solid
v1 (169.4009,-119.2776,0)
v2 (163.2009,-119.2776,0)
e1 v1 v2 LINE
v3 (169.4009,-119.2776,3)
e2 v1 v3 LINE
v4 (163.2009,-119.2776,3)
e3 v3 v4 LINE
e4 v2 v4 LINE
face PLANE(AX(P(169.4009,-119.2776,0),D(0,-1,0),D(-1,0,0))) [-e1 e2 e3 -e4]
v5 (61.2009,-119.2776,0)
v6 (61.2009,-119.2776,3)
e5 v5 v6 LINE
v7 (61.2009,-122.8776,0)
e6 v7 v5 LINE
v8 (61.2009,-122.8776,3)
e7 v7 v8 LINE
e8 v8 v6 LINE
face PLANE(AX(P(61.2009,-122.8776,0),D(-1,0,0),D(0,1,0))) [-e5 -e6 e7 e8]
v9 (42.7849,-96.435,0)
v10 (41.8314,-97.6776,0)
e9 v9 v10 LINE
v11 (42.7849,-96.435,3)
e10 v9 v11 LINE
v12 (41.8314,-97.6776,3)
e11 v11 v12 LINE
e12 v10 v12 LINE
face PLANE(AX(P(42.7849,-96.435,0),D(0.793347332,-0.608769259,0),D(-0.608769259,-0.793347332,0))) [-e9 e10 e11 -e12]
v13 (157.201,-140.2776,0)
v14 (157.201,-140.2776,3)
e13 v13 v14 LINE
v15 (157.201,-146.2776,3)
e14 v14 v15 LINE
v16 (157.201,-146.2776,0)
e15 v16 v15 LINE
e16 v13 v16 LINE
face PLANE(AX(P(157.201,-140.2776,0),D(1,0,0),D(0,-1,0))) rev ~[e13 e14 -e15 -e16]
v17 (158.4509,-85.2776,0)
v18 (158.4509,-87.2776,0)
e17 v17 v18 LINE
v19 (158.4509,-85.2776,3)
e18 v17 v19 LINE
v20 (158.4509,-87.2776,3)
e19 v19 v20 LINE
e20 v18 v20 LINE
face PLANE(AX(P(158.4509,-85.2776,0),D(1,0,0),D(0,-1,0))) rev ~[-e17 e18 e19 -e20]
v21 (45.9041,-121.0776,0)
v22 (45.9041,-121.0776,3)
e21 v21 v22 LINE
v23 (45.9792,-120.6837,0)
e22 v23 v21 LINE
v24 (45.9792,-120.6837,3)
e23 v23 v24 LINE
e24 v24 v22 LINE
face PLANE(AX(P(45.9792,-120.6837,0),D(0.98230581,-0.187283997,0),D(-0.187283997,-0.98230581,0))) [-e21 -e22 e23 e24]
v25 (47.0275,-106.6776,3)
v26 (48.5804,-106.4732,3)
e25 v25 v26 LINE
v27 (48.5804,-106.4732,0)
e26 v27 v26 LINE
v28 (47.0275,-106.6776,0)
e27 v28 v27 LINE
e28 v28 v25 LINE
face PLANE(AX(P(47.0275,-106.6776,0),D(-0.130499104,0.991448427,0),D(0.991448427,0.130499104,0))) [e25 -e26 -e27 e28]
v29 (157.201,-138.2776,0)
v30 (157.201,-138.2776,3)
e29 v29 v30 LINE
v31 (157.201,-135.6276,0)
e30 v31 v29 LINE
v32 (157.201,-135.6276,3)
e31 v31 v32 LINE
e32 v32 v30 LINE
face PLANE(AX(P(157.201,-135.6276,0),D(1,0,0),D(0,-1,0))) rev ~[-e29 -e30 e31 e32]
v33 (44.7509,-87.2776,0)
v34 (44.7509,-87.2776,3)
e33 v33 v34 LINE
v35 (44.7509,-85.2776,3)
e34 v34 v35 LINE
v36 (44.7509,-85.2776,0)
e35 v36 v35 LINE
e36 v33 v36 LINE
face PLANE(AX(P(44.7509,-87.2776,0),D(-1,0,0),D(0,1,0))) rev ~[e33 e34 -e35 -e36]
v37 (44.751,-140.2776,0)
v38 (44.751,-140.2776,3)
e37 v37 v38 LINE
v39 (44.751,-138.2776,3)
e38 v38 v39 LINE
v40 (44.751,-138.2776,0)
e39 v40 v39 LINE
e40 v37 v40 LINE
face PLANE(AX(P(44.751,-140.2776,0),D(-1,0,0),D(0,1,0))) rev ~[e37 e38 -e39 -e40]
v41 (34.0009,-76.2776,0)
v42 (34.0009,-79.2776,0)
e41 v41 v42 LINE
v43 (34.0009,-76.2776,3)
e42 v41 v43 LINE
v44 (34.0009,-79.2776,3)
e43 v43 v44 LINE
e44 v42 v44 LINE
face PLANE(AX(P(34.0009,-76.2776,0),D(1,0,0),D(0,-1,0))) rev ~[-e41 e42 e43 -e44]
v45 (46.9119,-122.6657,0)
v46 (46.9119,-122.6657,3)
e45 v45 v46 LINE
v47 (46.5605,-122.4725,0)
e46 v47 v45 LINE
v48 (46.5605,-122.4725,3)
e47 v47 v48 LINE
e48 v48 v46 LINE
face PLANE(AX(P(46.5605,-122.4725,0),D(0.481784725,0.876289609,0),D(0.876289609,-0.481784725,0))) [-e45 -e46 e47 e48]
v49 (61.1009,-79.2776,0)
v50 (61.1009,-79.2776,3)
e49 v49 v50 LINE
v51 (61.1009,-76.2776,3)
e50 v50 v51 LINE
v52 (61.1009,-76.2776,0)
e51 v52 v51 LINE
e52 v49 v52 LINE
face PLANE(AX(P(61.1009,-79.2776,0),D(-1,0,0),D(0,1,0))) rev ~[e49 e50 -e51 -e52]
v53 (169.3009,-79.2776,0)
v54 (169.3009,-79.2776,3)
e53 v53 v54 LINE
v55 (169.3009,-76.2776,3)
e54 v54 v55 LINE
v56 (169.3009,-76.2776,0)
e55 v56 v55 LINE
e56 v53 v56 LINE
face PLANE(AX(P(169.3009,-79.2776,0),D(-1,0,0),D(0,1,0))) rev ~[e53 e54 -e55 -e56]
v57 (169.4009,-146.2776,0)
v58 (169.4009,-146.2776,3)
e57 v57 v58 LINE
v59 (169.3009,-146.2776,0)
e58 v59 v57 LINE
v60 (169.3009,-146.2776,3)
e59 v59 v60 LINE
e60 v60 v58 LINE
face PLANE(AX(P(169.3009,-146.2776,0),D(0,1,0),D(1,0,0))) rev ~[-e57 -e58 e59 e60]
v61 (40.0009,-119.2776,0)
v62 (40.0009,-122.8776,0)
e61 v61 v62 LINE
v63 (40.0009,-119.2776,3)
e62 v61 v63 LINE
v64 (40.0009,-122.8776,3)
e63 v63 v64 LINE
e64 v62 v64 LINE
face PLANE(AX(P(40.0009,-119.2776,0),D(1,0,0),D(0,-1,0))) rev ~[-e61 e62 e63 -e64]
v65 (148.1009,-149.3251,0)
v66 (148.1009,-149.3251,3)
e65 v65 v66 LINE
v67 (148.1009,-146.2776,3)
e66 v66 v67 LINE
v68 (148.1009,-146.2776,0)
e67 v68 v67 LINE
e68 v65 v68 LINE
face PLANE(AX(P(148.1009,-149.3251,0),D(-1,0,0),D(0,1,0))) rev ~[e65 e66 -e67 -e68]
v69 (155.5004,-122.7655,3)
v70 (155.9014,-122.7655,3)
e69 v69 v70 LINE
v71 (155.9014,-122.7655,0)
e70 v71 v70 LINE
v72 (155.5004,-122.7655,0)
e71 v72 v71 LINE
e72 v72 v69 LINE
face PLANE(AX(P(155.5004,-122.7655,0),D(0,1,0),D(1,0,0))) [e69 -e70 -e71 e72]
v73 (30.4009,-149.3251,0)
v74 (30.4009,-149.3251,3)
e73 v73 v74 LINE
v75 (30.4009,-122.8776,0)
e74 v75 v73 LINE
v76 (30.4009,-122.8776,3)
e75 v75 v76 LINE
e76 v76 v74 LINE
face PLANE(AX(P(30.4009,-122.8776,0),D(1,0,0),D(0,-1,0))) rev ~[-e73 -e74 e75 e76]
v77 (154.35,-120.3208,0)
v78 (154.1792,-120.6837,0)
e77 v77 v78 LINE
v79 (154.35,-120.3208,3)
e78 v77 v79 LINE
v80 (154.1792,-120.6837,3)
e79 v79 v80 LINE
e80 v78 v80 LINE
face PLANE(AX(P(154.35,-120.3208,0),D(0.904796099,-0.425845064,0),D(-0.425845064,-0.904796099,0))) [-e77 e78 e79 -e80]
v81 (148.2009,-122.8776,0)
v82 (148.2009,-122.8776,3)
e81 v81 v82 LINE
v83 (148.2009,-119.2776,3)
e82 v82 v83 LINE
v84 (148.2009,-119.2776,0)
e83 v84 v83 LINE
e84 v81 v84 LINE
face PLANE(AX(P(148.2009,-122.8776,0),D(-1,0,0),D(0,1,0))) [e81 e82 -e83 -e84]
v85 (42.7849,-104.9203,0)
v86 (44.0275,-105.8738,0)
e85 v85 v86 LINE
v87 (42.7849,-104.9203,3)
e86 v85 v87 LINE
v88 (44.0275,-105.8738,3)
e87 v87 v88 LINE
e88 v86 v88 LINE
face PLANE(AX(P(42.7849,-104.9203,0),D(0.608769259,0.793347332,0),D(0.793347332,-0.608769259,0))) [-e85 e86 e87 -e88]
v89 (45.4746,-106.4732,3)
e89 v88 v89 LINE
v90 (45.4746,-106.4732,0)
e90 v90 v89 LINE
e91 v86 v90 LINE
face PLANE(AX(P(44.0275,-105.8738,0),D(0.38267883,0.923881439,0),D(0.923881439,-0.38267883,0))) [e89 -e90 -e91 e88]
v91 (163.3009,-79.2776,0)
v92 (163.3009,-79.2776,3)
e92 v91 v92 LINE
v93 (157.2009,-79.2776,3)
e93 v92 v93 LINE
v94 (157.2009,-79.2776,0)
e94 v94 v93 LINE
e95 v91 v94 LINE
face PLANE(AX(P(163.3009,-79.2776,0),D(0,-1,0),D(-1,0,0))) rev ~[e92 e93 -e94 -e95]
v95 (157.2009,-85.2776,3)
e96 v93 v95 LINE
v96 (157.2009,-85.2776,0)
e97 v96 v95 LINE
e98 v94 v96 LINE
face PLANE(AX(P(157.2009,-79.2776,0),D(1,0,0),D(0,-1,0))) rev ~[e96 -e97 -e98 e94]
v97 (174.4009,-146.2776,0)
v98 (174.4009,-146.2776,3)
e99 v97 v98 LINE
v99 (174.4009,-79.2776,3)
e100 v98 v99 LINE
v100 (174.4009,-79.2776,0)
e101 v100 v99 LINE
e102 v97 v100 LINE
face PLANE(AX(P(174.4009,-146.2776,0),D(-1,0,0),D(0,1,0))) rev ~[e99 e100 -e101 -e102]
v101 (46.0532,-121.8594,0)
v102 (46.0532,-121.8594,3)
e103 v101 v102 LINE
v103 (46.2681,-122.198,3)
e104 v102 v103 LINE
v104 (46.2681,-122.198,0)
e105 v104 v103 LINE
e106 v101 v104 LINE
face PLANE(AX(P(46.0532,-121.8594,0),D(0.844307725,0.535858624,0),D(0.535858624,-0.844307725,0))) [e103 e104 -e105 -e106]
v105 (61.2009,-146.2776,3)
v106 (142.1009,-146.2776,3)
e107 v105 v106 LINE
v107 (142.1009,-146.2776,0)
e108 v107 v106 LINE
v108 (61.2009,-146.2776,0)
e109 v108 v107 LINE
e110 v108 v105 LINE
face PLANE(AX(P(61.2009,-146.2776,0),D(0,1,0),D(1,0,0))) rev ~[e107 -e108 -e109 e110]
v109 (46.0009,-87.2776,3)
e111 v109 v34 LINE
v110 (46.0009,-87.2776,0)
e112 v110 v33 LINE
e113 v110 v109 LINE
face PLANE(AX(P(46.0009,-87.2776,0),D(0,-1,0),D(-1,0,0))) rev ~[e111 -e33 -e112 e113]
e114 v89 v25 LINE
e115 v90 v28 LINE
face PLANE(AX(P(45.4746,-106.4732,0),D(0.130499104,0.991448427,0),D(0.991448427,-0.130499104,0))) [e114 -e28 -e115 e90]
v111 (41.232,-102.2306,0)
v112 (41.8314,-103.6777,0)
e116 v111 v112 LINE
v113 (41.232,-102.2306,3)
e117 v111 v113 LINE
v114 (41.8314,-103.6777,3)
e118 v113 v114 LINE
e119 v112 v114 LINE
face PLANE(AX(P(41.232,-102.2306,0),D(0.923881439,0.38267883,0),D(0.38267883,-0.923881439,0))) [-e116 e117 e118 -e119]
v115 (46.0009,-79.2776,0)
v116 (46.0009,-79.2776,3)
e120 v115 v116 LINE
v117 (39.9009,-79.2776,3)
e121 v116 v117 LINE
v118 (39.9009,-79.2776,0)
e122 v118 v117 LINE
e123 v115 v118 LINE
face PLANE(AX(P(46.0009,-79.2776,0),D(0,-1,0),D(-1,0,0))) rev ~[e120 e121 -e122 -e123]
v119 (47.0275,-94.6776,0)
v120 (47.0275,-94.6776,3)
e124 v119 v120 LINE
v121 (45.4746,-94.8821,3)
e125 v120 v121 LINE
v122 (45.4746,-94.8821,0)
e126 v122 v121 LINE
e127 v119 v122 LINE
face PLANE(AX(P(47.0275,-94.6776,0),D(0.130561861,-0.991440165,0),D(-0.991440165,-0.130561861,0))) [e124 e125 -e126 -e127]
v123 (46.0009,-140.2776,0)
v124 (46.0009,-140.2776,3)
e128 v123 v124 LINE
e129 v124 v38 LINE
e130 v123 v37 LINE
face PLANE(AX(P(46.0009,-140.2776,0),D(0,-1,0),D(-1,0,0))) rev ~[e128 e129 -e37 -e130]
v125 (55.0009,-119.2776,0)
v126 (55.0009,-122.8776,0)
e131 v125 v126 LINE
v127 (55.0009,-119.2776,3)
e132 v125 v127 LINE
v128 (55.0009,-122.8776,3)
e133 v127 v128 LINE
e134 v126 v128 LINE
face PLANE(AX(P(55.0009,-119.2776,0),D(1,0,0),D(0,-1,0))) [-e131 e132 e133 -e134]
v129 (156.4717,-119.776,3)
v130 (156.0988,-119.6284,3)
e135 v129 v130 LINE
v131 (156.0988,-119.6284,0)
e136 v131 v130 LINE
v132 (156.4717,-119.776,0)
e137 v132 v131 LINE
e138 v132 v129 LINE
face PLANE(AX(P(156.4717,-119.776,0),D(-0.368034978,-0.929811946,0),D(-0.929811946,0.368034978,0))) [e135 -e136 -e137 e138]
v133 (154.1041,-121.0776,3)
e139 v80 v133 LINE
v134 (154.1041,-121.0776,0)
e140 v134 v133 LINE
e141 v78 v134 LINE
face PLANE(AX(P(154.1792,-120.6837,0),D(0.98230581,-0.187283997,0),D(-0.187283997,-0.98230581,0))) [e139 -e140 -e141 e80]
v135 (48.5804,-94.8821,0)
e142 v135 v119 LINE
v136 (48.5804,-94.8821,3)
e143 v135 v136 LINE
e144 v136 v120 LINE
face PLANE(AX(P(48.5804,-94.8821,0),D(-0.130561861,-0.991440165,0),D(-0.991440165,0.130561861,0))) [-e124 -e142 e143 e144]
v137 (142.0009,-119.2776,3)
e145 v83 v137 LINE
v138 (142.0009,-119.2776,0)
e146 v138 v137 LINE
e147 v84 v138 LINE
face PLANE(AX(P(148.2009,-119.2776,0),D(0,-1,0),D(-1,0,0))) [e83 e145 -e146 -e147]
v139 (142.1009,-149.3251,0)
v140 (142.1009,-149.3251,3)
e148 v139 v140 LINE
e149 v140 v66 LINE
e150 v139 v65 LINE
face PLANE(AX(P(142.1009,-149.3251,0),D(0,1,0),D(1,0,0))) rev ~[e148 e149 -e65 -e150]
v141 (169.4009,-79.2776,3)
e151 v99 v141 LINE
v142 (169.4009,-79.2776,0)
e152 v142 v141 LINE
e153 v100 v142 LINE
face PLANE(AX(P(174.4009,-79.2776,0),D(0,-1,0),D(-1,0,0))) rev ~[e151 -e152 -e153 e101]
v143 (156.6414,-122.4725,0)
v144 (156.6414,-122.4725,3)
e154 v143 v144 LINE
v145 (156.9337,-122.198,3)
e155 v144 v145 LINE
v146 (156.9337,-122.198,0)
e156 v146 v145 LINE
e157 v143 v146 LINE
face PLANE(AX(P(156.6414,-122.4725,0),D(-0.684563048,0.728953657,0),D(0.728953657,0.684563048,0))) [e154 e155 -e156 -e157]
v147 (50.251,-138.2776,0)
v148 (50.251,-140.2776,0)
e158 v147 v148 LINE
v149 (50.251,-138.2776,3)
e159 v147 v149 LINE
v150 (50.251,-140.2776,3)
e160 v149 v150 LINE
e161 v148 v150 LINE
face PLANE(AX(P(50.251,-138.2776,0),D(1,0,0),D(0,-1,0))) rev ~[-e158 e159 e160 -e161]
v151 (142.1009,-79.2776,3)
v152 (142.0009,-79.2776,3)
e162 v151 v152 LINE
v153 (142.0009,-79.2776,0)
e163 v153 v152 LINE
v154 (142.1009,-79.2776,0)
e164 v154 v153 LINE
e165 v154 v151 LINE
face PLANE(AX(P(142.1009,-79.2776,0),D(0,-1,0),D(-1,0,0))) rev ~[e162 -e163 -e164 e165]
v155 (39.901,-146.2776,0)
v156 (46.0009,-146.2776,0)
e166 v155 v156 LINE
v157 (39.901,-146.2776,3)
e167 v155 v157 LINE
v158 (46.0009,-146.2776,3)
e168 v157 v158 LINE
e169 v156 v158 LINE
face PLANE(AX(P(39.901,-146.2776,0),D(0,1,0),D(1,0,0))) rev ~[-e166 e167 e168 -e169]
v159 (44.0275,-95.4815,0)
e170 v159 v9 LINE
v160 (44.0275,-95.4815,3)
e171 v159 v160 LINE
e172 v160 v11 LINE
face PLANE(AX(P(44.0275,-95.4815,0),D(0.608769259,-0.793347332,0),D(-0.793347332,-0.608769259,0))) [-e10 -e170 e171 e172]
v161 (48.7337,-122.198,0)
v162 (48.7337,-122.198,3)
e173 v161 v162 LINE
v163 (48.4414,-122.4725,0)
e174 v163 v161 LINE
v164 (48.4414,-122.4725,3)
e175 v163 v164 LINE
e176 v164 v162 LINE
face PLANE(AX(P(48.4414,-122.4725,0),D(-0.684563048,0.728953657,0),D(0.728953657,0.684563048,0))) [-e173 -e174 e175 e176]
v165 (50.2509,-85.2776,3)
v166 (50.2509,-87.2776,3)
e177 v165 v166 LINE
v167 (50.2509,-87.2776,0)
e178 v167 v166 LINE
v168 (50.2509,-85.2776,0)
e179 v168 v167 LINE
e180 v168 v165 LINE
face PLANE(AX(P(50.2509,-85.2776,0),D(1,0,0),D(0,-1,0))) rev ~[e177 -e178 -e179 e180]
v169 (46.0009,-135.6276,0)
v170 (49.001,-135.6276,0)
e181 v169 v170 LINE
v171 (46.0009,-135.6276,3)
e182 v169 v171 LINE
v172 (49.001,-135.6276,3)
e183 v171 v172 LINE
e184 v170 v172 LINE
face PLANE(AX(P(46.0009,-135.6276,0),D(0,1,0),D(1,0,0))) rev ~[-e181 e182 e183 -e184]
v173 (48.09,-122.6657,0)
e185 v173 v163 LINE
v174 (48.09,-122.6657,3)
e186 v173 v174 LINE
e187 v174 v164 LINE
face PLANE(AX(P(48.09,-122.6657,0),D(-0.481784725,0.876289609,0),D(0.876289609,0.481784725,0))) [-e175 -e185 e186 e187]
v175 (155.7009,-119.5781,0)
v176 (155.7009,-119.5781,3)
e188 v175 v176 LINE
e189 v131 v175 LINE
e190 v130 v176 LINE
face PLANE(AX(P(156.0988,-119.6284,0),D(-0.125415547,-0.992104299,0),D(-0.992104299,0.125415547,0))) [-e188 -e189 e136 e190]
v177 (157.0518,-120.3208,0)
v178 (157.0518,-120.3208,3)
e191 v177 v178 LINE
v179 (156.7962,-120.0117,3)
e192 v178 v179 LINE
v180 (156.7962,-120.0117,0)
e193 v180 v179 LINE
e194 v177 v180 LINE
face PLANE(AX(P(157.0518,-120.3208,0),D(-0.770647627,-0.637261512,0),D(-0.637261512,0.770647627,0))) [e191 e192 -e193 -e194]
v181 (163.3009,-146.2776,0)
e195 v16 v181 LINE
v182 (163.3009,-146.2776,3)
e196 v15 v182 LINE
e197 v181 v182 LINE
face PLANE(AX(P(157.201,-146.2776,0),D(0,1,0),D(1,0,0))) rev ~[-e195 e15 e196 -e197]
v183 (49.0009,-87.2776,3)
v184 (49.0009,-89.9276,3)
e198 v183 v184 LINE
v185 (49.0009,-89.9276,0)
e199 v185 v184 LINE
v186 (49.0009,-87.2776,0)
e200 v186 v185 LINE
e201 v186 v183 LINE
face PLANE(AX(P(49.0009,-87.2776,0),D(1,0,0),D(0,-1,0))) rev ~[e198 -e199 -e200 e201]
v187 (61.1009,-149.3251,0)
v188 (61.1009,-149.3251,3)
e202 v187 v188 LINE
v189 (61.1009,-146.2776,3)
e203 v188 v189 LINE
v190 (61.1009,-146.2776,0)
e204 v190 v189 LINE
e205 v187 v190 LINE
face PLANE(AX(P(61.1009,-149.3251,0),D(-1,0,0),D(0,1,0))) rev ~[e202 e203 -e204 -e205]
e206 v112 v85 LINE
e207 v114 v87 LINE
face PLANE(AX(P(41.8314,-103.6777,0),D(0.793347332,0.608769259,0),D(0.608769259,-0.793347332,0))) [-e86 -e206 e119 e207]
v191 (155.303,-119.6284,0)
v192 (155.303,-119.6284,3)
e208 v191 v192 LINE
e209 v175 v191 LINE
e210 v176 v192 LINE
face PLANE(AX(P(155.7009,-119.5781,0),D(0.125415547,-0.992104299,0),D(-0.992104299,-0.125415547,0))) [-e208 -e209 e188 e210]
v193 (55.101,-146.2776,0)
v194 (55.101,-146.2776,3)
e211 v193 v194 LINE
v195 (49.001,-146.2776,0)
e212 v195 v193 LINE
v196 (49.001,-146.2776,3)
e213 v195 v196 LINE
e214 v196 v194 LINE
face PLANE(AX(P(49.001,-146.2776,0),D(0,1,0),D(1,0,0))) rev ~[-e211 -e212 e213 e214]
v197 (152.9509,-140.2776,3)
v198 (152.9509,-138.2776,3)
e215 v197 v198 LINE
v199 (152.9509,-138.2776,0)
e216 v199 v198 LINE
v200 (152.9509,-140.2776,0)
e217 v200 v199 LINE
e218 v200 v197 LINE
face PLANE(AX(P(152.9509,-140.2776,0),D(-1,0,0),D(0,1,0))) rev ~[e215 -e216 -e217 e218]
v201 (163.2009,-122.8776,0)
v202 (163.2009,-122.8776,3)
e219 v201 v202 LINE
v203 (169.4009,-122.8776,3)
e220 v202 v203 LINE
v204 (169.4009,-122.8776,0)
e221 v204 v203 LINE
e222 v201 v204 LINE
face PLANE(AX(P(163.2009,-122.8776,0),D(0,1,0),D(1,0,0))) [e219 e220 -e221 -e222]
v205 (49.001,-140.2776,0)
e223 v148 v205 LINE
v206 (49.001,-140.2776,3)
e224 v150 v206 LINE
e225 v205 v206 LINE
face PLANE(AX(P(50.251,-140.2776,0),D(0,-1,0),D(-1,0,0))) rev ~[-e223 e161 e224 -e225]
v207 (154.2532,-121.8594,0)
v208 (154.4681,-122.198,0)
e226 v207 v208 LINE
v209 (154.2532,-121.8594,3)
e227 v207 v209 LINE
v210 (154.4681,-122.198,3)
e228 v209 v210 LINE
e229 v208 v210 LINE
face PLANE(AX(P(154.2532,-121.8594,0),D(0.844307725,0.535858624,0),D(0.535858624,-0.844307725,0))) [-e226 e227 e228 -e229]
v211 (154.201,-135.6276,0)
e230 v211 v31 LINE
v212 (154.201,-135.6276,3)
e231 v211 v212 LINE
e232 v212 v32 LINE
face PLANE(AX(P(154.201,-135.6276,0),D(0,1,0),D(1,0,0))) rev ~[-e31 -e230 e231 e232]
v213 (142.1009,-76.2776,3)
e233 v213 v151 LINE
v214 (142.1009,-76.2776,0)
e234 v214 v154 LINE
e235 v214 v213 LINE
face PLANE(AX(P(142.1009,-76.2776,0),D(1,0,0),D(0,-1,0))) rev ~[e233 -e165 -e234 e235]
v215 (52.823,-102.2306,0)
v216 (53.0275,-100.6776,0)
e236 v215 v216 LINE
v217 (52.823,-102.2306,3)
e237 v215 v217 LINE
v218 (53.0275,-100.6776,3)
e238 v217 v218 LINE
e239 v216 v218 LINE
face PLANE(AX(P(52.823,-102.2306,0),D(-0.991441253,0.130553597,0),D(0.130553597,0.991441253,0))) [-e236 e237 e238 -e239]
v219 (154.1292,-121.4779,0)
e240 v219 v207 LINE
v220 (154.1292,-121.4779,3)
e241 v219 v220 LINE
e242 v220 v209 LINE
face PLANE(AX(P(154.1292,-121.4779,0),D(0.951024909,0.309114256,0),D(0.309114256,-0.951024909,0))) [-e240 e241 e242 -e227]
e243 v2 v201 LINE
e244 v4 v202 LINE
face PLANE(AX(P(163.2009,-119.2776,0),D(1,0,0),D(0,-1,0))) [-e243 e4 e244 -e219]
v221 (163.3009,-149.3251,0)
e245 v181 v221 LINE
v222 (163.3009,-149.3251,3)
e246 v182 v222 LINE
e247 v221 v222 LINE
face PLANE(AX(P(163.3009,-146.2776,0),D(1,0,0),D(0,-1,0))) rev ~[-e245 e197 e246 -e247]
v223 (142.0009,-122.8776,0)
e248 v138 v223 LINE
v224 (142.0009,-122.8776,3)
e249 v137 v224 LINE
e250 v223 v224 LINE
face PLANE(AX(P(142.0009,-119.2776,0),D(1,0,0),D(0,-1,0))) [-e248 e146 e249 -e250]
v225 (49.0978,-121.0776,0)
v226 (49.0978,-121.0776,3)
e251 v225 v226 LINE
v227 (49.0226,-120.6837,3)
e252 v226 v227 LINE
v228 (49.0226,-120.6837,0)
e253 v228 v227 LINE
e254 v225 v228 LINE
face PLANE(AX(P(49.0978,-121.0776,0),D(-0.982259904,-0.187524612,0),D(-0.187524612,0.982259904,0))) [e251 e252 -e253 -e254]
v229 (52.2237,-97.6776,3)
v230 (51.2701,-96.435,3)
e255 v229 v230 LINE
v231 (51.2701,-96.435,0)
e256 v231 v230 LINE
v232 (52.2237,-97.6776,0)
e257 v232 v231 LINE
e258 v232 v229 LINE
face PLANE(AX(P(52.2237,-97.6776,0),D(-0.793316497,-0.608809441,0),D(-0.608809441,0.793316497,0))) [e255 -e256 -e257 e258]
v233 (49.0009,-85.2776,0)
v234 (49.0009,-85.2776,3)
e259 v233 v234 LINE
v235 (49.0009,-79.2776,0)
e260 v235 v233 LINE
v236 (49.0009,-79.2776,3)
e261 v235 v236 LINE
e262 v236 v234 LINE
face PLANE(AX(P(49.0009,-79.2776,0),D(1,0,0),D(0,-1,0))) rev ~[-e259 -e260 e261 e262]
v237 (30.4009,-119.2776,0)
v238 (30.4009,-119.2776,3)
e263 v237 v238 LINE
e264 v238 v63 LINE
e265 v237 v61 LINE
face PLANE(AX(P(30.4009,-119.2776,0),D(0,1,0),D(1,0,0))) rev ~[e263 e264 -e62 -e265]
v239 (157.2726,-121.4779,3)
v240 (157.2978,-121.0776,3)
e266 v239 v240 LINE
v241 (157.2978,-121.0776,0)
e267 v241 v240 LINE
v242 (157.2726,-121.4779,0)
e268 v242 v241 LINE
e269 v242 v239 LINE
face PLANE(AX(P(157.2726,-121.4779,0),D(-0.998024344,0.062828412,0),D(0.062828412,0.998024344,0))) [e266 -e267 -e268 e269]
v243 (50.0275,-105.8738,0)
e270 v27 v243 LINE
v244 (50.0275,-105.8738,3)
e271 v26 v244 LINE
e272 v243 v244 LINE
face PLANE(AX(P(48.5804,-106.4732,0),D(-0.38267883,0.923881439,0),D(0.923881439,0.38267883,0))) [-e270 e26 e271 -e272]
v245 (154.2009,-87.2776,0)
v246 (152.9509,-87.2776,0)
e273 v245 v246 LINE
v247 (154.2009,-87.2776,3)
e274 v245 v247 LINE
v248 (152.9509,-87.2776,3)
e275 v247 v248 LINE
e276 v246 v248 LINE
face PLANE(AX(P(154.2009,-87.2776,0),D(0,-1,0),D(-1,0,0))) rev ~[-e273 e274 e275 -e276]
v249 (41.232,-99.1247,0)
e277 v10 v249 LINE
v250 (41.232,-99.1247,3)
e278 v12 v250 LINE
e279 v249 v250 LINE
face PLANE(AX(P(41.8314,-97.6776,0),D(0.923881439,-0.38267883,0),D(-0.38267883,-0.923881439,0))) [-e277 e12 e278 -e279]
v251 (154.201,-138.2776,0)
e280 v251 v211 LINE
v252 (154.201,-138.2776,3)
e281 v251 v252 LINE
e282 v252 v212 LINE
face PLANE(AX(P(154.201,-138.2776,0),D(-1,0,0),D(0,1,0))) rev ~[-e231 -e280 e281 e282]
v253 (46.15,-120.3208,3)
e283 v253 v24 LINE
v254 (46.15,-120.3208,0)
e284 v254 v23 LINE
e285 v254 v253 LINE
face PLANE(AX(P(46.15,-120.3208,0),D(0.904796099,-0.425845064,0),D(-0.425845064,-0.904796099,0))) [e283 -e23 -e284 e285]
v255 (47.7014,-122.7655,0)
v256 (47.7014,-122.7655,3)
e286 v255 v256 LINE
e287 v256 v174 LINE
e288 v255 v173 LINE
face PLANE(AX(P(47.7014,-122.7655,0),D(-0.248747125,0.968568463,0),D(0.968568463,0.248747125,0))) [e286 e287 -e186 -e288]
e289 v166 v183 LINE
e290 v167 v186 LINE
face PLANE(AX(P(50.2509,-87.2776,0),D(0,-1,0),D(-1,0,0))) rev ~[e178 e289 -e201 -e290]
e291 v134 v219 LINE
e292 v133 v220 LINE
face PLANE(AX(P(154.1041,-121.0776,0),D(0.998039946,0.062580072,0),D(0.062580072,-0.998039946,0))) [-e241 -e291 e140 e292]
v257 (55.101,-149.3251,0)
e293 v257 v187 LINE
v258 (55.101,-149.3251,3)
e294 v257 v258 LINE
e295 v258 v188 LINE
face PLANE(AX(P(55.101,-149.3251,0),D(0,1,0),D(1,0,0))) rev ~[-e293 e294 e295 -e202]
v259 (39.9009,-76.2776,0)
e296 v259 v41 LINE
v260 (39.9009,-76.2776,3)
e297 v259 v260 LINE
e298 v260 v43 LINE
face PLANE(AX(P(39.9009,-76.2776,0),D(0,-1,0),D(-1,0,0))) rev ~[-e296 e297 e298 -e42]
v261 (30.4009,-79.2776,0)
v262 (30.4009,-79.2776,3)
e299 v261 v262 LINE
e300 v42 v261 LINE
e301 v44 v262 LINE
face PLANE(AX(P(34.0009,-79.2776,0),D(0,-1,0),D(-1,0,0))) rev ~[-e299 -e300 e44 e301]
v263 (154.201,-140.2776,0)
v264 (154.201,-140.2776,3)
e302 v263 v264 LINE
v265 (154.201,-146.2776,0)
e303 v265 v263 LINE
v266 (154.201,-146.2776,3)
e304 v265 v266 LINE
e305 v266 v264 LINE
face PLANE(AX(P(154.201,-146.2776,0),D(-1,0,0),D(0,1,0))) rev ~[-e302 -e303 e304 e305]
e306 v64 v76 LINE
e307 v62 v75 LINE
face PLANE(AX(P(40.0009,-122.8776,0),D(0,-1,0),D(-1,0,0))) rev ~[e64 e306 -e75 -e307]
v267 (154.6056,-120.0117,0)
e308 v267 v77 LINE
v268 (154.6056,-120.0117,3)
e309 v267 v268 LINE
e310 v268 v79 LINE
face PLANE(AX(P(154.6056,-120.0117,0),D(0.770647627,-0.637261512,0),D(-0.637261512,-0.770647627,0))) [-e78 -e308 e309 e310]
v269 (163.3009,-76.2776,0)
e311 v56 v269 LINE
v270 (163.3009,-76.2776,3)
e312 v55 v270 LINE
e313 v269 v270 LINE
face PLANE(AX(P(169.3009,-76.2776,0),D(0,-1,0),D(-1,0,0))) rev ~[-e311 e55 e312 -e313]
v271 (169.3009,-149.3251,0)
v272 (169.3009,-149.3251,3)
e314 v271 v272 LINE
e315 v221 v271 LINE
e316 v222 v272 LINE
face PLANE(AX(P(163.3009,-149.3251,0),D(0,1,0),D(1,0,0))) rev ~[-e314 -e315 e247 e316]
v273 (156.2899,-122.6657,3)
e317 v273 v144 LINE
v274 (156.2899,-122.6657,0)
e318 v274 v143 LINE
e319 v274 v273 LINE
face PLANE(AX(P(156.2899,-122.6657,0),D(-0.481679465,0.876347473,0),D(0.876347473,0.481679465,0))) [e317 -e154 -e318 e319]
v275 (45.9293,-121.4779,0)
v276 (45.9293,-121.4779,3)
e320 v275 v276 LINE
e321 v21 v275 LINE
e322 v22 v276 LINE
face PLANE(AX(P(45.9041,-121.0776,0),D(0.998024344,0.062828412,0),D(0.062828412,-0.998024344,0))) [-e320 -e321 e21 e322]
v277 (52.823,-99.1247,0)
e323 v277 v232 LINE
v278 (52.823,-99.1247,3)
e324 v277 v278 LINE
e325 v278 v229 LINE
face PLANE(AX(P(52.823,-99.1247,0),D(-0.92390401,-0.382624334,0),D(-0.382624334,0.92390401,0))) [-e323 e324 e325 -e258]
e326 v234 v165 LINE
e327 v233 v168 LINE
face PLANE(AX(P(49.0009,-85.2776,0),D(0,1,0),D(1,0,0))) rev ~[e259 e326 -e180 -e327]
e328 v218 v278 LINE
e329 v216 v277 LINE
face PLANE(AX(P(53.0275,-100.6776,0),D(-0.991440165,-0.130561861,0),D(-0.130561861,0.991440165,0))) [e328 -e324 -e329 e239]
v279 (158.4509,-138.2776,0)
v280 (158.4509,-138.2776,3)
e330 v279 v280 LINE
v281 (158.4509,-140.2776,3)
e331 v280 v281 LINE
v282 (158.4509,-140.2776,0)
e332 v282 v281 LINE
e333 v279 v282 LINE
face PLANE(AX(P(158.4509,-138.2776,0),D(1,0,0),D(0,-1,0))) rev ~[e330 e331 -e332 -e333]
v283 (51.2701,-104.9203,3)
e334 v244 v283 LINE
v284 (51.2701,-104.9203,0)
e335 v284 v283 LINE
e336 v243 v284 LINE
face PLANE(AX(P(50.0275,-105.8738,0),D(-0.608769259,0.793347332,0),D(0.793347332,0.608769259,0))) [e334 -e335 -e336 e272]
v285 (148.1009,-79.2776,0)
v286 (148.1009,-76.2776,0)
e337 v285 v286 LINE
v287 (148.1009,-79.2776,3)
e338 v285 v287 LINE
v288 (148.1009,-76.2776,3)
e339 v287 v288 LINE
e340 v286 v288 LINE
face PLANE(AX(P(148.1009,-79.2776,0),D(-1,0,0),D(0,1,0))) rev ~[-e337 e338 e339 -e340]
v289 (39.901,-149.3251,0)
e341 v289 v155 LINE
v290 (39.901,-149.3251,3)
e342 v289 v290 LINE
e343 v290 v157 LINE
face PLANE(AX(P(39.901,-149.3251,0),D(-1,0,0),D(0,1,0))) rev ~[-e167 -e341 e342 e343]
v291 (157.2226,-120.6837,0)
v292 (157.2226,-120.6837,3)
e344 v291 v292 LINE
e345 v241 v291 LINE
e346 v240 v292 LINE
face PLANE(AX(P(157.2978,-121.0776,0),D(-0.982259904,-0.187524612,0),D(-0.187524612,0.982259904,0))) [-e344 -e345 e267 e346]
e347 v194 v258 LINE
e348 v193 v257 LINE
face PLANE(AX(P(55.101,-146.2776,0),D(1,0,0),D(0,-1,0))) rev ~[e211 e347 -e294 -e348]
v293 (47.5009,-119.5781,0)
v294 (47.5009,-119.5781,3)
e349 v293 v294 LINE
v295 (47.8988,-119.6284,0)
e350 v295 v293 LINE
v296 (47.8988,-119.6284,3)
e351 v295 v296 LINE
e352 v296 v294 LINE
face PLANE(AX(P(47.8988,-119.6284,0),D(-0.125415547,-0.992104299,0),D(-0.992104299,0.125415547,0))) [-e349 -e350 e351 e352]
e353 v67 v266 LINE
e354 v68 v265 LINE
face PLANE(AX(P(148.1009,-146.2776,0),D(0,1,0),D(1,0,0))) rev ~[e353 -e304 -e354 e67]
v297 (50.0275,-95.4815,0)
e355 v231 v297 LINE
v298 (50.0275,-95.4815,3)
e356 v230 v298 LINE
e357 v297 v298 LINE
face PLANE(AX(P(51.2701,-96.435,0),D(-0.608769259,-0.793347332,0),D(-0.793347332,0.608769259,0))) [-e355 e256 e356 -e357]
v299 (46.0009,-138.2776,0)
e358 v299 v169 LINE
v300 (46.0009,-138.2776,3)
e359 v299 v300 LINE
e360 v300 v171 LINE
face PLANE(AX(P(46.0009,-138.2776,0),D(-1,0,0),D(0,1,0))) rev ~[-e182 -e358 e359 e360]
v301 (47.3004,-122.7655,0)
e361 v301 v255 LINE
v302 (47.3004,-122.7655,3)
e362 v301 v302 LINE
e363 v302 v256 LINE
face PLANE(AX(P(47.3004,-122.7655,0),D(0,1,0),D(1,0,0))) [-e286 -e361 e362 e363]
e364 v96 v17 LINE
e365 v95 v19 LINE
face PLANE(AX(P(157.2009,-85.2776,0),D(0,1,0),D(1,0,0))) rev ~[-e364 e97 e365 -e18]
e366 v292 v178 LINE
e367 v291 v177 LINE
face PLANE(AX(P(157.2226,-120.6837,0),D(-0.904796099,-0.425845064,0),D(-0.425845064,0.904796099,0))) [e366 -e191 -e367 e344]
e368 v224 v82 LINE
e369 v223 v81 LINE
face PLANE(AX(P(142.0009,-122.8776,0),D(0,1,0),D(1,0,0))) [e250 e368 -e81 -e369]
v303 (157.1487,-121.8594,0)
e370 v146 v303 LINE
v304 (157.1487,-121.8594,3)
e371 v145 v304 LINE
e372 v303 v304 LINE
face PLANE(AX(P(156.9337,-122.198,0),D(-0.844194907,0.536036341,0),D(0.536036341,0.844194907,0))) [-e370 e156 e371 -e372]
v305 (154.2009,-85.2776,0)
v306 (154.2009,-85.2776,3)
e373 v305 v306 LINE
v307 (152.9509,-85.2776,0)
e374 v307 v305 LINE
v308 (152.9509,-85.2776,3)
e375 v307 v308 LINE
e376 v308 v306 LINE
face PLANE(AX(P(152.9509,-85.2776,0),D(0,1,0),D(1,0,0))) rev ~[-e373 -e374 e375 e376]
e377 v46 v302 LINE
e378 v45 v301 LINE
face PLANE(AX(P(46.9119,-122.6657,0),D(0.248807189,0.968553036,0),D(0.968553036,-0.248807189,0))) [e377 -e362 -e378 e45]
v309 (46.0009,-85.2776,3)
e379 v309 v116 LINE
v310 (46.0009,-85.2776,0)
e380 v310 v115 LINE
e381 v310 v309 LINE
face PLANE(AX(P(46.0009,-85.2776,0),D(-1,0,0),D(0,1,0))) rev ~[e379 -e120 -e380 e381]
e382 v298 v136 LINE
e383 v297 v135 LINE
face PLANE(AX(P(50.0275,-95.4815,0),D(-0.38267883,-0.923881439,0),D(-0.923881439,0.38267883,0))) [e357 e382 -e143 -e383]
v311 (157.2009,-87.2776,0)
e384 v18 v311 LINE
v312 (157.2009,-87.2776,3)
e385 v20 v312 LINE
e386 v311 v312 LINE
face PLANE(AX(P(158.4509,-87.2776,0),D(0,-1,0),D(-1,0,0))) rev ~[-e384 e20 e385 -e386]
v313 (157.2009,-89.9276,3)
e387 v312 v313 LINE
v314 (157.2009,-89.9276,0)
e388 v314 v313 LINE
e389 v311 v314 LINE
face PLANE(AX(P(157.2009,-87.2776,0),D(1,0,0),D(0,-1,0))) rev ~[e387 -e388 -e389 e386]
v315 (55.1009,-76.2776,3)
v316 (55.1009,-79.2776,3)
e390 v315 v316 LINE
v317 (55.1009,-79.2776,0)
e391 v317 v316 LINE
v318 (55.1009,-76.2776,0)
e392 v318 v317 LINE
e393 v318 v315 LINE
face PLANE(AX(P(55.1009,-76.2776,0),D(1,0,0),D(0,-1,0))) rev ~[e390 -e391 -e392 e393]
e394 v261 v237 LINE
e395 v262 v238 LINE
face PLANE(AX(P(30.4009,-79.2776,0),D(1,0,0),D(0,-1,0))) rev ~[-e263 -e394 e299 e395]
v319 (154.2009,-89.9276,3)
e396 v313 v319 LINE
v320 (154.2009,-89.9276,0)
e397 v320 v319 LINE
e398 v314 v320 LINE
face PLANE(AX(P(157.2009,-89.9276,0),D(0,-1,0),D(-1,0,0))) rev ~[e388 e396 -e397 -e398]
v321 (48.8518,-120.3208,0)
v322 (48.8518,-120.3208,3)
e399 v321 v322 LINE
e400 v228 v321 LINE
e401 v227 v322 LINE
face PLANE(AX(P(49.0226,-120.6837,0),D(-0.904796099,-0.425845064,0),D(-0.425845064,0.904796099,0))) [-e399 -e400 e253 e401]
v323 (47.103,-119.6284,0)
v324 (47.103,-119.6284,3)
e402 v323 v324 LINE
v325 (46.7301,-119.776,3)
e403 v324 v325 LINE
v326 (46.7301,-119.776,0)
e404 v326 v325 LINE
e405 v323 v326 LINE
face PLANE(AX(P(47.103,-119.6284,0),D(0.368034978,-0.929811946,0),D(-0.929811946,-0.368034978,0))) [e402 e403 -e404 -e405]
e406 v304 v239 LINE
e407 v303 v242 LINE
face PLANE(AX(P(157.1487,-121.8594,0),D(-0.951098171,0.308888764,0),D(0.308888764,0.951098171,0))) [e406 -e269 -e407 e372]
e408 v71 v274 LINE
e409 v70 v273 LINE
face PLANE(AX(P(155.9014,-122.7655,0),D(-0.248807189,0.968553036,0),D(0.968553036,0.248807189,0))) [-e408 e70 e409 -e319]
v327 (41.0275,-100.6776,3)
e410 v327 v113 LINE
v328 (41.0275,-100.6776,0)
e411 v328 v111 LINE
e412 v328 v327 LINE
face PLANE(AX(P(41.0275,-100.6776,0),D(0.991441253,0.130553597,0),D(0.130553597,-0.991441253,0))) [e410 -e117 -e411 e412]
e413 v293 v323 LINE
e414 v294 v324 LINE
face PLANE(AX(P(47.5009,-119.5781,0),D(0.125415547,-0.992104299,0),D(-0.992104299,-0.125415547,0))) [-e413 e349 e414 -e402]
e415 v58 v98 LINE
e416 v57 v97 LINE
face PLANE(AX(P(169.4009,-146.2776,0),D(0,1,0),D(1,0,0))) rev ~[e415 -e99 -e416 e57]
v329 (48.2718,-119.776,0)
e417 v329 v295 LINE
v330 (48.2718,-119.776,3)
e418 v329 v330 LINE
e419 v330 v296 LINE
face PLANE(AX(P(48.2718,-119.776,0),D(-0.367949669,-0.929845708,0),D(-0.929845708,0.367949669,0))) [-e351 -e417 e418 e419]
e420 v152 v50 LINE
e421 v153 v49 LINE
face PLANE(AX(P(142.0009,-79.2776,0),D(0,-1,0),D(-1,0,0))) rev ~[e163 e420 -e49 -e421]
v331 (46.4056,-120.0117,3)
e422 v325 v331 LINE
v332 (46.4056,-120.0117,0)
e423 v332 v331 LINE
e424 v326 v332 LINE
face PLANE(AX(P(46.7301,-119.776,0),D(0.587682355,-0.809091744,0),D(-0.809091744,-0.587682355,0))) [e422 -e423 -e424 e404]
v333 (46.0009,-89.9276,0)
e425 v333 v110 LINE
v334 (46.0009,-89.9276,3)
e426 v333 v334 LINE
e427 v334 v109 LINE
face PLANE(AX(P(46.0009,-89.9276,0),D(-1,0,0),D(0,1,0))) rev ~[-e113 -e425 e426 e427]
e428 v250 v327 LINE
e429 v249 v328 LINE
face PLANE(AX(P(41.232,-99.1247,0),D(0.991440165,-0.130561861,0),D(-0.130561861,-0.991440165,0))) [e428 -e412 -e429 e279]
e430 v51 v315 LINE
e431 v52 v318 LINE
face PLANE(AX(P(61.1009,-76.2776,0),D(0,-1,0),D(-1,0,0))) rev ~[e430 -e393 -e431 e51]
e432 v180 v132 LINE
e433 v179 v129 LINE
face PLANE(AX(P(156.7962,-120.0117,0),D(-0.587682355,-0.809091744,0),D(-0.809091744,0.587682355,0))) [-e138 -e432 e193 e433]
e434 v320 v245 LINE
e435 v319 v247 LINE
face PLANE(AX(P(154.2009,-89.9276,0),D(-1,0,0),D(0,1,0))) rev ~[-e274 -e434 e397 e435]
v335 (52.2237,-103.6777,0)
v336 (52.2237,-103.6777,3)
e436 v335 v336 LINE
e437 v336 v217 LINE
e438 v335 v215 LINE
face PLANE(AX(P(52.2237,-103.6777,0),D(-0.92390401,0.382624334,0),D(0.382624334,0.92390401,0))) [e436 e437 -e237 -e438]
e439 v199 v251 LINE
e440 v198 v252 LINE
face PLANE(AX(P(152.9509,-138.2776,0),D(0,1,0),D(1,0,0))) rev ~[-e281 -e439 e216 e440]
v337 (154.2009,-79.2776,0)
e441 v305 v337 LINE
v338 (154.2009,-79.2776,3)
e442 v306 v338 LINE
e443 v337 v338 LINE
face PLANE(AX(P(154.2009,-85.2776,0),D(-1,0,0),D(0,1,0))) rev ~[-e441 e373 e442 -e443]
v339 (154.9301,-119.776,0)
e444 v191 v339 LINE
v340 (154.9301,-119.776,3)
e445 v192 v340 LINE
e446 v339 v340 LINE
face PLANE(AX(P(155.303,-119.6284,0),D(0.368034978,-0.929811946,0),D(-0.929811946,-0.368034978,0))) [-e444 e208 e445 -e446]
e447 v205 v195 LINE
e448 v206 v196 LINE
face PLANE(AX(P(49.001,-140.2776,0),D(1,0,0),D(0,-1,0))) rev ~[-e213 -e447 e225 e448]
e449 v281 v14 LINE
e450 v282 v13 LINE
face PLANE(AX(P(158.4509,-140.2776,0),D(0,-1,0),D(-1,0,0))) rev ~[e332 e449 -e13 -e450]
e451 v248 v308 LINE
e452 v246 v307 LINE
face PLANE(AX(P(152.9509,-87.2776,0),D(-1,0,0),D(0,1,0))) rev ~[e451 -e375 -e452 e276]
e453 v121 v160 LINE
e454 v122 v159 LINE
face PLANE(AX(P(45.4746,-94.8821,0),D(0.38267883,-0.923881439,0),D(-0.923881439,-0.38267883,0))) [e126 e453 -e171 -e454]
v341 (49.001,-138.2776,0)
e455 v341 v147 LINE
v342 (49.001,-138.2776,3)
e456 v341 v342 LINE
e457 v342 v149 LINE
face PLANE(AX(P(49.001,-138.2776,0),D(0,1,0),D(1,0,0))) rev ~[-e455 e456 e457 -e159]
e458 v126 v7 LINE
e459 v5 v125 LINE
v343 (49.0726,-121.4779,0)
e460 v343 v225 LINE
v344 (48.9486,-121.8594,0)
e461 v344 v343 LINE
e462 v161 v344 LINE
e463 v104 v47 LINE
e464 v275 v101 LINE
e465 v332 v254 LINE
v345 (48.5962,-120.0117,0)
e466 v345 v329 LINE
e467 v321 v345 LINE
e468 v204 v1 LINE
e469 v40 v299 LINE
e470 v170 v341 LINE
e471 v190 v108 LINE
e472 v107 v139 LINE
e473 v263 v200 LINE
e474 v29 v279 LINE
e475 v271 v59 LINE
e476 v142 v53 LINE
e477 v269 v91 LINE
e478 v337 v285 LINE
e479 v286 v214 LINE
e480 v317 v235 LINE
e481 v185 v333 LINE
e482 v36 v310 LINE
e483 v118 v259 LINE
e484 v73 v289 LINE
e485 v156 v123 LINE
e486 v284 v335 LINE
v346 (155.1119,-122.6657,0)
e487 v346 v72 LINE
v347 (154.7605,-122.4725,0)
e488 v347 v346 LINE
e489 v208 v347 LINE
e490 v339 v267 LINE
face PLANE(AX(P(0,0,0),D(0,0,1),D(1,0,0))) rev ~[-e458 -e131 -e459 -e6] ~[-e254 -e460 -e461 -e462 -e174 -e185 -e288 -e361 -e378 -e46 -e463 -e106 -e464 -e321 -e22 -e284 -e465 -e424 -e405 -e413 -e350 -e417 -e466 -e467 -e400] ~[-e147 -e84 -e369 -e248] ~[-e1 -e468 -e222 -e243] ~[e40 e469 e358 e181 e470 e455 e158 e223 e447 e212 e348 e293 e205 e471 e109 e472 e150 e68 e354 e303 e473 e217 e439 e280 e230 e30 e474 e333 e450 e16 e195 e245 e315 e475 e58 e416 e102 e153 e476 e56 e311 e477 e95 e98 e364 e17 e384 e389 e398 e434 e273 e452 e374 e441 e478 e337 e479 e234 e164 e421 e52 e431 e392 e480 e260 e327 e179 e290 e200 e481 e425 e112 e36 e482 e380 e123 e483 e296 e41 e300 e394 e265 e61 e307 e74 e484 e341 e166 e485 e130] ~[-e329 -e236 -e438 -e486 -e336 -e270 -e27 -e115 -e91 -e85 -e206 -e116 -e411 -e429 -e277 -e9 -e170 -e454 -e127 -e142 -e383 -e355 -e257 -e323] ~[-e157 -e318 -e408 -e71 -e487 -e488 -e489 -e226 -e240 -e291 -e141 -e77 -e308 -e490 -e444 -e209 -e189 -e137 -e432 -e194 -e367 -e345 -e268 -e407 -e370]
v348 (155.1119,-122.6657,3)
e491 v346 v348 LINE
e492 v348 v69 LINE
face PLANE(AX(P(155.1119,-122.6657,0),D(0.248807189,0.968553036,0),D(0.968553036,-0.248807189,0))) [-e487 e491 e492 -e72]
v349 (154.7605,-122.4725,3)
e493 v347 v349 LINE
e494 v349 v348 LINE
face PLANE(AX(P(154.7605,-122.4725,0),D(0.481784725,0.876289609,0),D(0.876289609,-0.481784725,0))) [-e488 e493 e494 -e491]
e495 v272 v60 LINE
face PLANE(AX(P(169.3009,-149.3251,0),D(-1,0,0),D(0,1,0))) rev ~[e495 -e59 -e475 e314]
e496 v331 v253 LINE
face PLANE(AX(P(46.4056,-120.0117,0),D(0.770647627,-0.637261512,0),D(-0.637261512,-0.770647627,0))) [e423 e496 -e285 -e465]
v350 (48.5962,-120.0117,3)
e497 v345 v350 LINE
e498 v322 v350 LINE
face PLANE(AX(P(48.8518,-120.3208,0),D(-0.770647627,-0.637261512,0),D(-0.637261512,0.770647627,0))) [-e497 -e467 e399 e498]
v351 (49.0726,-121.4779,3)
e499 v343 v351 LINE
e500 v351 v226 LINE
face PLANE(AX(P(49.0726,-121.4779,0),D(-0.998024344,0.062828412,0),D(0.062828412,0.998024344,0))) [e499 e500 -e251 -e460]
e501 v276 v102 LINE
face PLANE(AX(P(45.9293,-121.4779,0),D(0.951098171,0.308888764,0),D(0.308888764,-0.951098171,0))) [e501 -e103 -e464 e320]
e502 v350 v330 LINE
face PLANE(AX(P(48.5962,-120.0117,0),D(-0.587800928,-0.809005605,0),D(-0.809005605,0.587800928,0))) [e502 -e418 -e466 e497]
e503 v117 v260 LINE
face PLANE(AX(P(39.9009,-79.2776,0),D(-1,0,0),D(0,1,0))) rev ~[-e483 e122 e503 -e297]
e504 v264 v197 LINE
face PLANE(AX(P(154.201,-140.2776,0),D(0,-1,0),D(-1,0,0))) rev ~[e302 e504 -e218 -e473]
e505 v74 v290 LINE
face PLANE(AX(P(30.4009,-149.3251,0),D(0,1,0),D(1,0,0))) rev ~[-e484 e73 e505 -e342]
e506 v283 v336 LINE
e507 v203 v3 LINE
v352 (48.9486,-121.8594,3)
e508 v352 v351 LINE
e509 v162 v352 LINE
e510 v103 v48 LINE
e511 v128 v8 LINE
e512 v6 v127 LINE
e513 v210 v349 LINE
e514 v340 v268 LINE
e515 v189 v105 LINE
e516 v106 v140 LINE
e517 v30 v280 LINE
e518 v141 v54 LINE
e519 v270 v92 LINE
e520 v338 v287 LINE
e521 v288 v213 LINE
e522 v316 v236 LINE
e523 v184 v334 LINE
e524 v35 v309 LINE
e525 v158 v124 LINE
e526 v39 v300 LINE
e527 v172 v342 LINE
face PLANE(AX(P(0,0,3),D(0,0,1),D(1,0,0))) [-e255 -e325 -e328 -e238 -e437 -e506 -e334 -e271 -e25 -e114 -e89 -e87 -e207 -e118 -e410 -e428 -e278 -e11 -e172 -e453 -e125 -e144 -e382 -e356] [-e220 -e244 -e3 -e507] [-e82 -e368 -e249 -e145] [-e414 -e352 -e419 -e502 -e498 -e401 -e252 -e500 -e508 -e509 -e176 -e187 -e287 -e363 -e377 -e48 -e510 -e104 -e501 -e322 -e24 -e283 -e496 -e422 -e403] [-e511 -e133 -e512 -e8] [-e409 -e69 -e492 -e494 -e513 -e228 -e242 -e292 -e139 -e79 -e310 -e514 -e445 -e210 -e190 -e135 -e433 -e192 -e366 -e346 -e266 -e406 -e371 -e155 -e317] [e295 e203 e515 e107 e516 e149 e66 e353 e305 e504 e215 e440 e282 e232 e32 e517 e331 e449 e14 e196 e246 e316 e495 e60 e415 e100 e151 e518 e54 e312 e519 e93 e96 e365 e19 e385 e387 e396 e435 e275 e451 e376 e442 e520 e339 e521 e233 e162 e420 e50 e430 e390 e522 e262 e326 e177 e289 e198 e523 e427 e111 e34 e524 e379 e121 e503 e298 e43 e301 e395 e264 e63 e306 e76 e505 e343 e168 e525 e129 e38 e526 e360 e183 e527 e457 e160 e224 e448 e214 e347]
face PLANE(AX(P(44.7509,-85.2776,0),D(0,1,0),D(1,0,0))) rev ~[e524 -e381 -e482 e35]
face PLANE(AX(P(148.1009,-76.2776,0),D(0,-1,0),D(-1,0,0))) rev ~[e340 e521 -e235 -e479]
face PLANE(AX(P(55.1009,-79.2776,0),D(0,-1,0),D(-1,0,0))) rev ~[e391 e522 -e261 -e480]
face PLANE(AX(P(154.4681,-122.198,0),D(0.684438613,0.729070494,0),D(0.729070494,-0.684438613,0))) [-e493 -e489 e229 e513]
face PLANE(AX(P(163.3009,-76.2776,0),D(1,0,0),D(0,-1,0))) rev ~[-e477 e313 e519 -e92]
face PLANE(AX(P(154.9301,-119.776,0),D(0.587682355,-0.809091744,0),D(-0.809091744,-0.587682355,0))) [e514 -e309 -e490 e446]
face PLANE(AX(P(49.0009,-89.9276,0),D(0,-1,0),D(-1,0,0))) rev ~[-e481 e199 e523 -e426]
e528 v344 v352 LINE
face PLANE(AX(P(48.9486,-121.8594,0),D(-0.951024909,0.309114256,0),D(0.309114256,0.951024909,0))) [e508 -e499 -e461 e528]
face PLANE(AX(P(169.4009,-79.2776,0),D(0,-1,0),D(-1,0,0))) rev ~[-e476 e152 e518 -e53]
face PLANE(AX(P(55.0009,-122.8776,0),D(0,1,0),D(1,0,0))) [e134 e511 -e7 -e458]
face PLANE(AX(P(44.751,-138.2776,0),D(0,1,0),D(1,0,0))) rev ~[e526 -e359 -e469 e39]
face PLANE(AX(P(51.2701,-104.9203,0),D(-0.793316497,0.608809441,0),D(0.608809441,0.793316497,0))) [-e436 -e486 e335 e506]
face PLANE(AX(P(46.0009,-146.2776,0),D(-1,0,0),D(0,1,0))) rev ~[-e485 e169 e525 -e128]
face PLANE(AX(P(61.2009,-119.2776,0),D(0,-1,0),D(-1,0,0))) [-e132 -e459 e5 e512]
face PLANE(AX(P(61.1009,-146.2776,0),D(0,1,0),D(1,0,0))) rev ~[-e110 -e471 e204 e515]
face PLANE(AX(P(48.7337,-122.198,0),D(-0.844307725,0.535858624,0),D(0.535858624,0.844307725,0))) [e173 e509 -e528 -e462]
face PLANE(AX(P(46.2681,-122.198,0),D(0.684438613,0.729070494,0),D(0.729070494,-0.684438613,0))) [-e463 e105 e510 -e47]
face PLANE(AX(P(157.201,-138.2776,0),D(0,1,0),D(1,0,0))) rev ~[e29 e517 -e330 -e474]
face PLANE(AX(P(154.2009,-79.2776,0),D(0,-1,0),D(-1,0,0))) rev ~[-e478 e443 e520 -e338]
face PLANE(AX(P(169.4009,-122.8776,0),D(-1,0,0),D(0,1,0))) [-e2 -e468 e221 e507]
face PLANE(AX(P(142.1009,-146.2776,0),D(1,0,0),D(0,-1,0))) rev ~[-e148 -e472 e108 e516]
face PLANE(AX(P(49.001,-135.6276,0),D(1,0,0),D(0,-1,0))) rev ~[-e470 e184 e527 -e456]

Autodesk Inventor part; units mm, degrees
ref_plane "YZ Plane" through (0, 0, 0) normal (1, 0, 0) x (0, 1, 0)
ref_plane "XZ Plane" through (0, 0, 0) normal (0, 1, 0) x (-1, 0, 0)
ref_plane "XY Plane" through (0, 0, 0) normal (0, 0, 1) x (1, 0, 0)
sketch "Sketch1" plane through (0, 0, 0) normal (0, 0, 1) x (1, 0, 0)
  line L0 (169.4009, -79.2776) -> (169.3009, -79.2776)
  line L1 (169.3009, -79.2776) -> (169.3009, -76.2776)
  line L2 (169.3009, -76.2776) -> (163.3009, -76.2776)
  line L3 (163.3009, -76.2776) -> (163.3009, -79.2776)
  line L4 (163.3009, -79.2776) -> (157.2009, -79.2776)
  line L5 (157.2009, -79.2776) -> (157.2009, -85.2776)
  line L6 (157.2009, -85.2776) -> (158.4509, -85.2776)
  line L7 (158.4509, -85.2776) -> (158.4509, -87.2776)
  line L8 (158.4509, -87.2776) -> (157.2009, -87.2776)
  line L9 (157.2009, -87.2776) -> (157.2009, -89.9276)
  line L10 (157.2009, -89.9276) -> (154.2009, -89.9276)
  line L11 (154.2009, -89.9276) -> (154.2009, -87.2776)
  line L12 (154.2009, -87.2776) -> (152.9509, -87.2776)
  line L13 (152.9509, -87.2776) -> (152.9509, -85.2776)
  line L14 (152.9509, -85.2776) -> (154.2009, -85.2776)
  line L15 (154.2009, -85.2776) -> (154.2009, -79.2776)
  line L16 (154.2009, -79.2776) -> (148.1009, -79.2776)
  line L17 (148.1009, -79.2776) -> (148.1009, -76.2776)
  line L18 (148.1009, -76.2776) -> (142.1009, -76.2776)
  line L19 (142.1009, -76.2776) -> (142.1009, -79.2776)
  line L20 (142.1009, -79.2776) -> (142.0009, -79.2776)
  line L21 (142.0009, -79.2776) -> (61.1009, -79.2776)
  line L22 (61.1009, -79.2776) -> (61.1009, -76.2776)
  line L23 (61.1009, -76.2776) -> (55.1009, -76.2776)
  line L24 (55.1009, -76.2776) -> (55.1009, -79.2776)
  line L25 (55.1009, -79.2776) -> (49.0009, -79.2776)
  line L26 (49.0009, -79.2776) -> (49.0009, -85.2776)
  line L27 (49.0009, -85.2776) -> (50.2509, -85.2776)
  line L28 (50.2509, -85.2776) -> (50.2509, -87.2776)
  line L29 (50.2509, -87.2776) -> (49.0009, -87.2776)
  line L30 (49.0009, -87.2776) -> (49.0009, -89.9276)
  line L31 (49.0009, -89.9276) -> (46.0009, -89.9276)
  line L32 (46.0009, -89.9276) -> (46.0009, -87.2776)
  line L33 (46.0009, -87.2776) -> (44.7509, -87.2776)
  line L34 (44.7509, -87.2776) -> (44.7509, -85.2776)
  line L35 (44.7509, -85.2776) -> (46.0009, -85.2776)
  line L36 (46.0009, -85.2776) -> (46.0009, -79.2776)
  line L37 (46.0009, -79.2776) -> (39.9009, -79.2776)
  line L38 (39.9009, -79.2776) -> (39.9009, -76.2776)
  line L39 (39.9009, -76.2776) -> (34.0009, -76.2776)
  line L40 (34.0009, -76.2776) -> (34.0009, -79.2776)
  line L41 (34.0009, -79.2776) -> (30.4009, -79.2776)
  line L42 (30.4009, -79.2776) -> (30.4009, -119.2776)
  line L43 (30.4009, -119.2776) -> (40.0009, -119.2776)
  line L44 (40.0009, -119.2776) -> (40.0009, -122.8776)
  line L45 (40.0009, -122.8776) -> (30.4009, -122.8776)
  line L46 (30.4009, -122.8776) -> (30.4009, -149.3251)
  line L47 (30.4009, -149.3251) -> (39.901, -149.3251)
  line L48 (39.901, -149.3251) -> (39.901, -146.2776)
  line L49 (39.901, -146.2776) -> (46.0009, -146.2776)
  line L50 (46.0009, -146.2776) -> (46.0009, -140.2776)
  line L51 (46.0009, -140.2776) -> (44.751, -140.2776)
  line L52 (44.751, -140.2776) -> (44.751, -138.2776)
  line L53 (44.751, -138.2776) -> (46.0009, -138.2776)
  line L54 (46.0009, -138.2776) -> (46.0009, -135.6276)
  line L55 (46.0009, -135.6276) -> (49.001, -135.6276)
  line L56 (49.001, -135.6276) -> (49.001, -138.2776)
  line L57 (49.001, -138.2776) -> (50.251, -138.2776)
  line L58 (50.251, -138.2776) -> (50.251, -140.2776)
  line L59 (50.251, -140.2776) -> (49.001, -140.2776)
  line L60 (49.001, -140.2776) -> (49.001, -146.2776)
  line L61 (49.001, -146.2776) -> (55.101, -146.2776)
  line L62 (55.101, -146.2776) -> (55.101, -149.3251)
  line L63 (55.101, -149.3251) -> (61.1009, -149.3251)
  line L64 (61.1009, -149.3251) -> (61.1009, -146.2776)
  line L65 (61.1009, -146.2776) -> (61.2009, -146.2776)
  line L66 (61.2009, -146.2776) -> (142.1009, -146.2776)
  line L67 (142.1009, -146.2776) -> (142.1009, -149.3251)
  line L68 (142.1009, -149.3251) -> (148.1009, -149.3251)
  line L69 (148.1009, -149.3251) -> (148.1009, -146.2776)
  line L70 (148.1009, -146.2776) -> (154.201, -146.2776)
  line L71 (154.201, -146.2776) -> (154.201, -140.2776)
  line L72 (154.201, -140.2776) -> (152.9509, -140.2776)
  line L73 (152.9509, -140.2776) -> (152.9509, -138.2776)
  line L74 (152.9509, -138.2776) -> (154.201, -138.2776)
  line L75 (154.201, -138.2776) -> (154.201, -135.6276)
  line L76 (154.201, -135.6276) -> (157.201, -135.6276)
  line L77 (157.201, -135.6276) -> (157.201, -138.2776)
  line L78 (157.201, -138.2776) -> (158.4509, -138.2776)
  line L79 (158.4509, -138.2776) -> (158.4509, -140.2776)
  line L80 (158.4509, -140.2776) -> (157.201, -140.2776)
  line L81 (157.201, -140.2776) -> (157.201, -146.2776)
  line L82 (157.201, -146.2776) -> (163.3009, -146.2776)
  line L83 (163.3009, -146.2776) -> (163.3009, -149.3251)
  line L84 (163.3009, -149.3251) -> (169.3009, -149.3251)
  line L85 (169.3009, -149.3251) -> (169.3009, -146.2776)
  line L86 (169.3009, -146.2776) -> (169.4009, -146.2776)
  line L87 (169.4009, -146.2776) -> (174.4009, -146.2776)
  line L88 (174.4009, -146.2776) -> (174.4009, -79.2776)
  line L89 (174.4009, -79.2776) -> (169.4009, -79.2776)
  line L90 (52.823, -99.1247) -> (52.2237, -97.6776)
  line L91 (52.2237, -97.6776) -> (51.2701, -96.435)
  line L92 (51.2701, -96.435) -> (50.0275, -95.4815)
  line L93 (50.0275, -95.4815) -> (48.5804, -94.8821)
  line L94 (48.5804, -94.8821) -> (47.0275, -94.6776)
  line L95 (47.0275, -94.6776) -> (45.4746, -94.8821)
  line L96 (45.4746, -94.8821) -> (44.0275, -95.4815)
  line L97 (44.0275, -95.4815) -> (42.7849, -96.435)
  line L98 (42.7849, -96.435) -> (41.8314, -97.6776)
  line L99 (41.8314, -97.6776) -> (41.232, -99.1247)
  line L100 (41.232, -99.1247) -> (41.0275, -100.6776)
  line L101 (41.0275, -100.6776) -> (41.232, -102.2306)
  line L102 (41.232, -102.2306) -> (41.8314, -103.6777)
  line L103 (41.8314, -103.6777) -> (42.7849, -104.9203)
  line L104 (42.7849, -104.9203) -> (44.0275, -105.8738)
  line L105 (44.0275, -105.8738) -> (45.4746, -106.4732)
  line L106 (45.4746, -106.4732) -> (47.0275, -106.6776)
  line L107 (47.0275, -106.6776) -> (48.5804, -106.4732)
  line L108 (48.5804, -106.4732) -> (50.0275, -105.8738)
  line L109 (50.0275, -105.8738) -> (51.2701, -104.9203)
  line L110 (51.2701, -104.9203) -> (52.2237, -103.6777)
  line L111 (52.2237, -103.6777) -> (52.823, -102.2306)
  line L112 (52.823, -102.2306) -> (53.0275, -100.6776)
  line L113 (53.0275, -100.6776) -> (52.823, -99.1247)
  line L114 (49.0226, -120.6837) -> (48.8518, -120.3208)
  line L115 (48.8518, -120.3208) -> (48.5962, -120.0117)
  line L116 (48.5962, -120.0117) -> (48.2718, -119.776)
  line L117 (48.2718, -119.776) -> (47.8988, -119.6284)
  line L118 (47.8988, -119.6284) -> (47.5009, -119.5781)
  line L119 (47.5009, -119.5781) -> (47.103, -119.6284)
  line L120 (47.103, -119.6284) -> (46.7301, -119.776)
  line L121 (46.7301, -119.776) -> (46.4056, -120.0117)
  line L122 (46.4056, -120.0117) -> (46.15, -120.3208)
  line L123 (46.15, -120.3208) -> (45.9792, -120.6837)
  line L124 (45.9792, -120.6837) -> (45.9041, -121.0776)
  line L125 (45.9041, -121.0776) -> (45.9293, -121.4779)
  line L126 (45.9293, -121.4779) -> (46.0532, -121.8594)
  line L127 (46.0532, -121.8594) -> (46.2681, -122.198)
  line L128 (46.2681, -122.198) -> (46.5605, -122.4725)
  line L129 (46.5605, -122.4725) -> (46.9119, -122.6657)
  line L130 (46.9119, -122.6657) -> (47.3004, -122.7655)
  line L131 (47.3004, -122.7655) -> (47.7014, -122.7655)
  line L132 (47.7014, -122.7655) -> (48.09, -122.6657)
  line L133 (48.09, -122.6657) -> (48.4414, -122.4725)
  line L134 (48.4414, -122.4725) -> (48.7337, -122.198)
  line L135 (48.7337, -122.198) -> (48.9486, -121.8594)
  line L136 (48.9486, -121.8594) -> (49.0726, -121.4779)
  line L137 (49.0726, -121.4779) -> (49.0978, -121.0776)
  line L138 (49.0978, -121.0776) -> (49.0226, -120.6837)
  line L139 (142.0009, -119.2776) -> (142.0009, -122.8776)
  line L140 (142.0009, -122.8776) -> (148.2009, -122.8776)
  line L141 (148.2009, -122.8776) -> (148.2009, -119.2776)
  line L142 (148.2009, -119.2776) -> (142.0009, -119.2776)
  line L143 (157.2226, -120.6837) -> (157.0518, -120.3208)
  line L144 (157.0518, -120.3208) -> (156.7962, -120.0117)
  line L145 (156.7962, -120.0117) -> (156.4717, -119.776)
  line L146 (156.4717, -119.776) -> (156.0988, -119.6284)
  line L147 (156.0988, -119.6284) -> (155.7009, -119.5781)
  line L148 (155.7009, -119.5781) -> (155.303, -119.6284)
  line L149 (155.303, -119.6284) -> (154.9301, -119.776)
  line L150 (154.9301, -119.776) -> (154.6056, -120.0117)
  line L151 (154.6056, -120.0117) -> (154.35, -120.3208)
  line L152 (154.35, -120.3208) -> (154.1792, -120.6837)
  line L153 (154.1792, -120.6837) -> (154.1041, -121.0776)
  line L154 (154.1041, -121.0776) -> (154.1292, -121.4779)
  line L155 (154.1292, -121.4779) -> (154.2532, -121.8594)
  line L156 (154.2532, -121.8594) -> (154.4681, -122.198)
  line L157 (154.4681, -122.198) -> (154.7605, -122.4725)
  line L158 (154.7605, -122.4725) -> (155.1119, -122.6657)
  line L159 (155.1119, -122.6657) -> (155.5004, -122.7655)
  line L160 (155.5004, -122.7655) -> (155.9014, -122.7655)
  line L161 (155.9014, -122.7655) -> (156.2899, -122.6657)
  line L162 (156.2899, -122.6657) -> (156.6414, -122.4725)
  line L163 (156.6414, -122.4725) -> (156.9337, -122.198)
  line L164 (156.9337, -122.198) -> (157.1487, -121.8594)
  line L165 (157.1487, -121.8594) -> (157.2726, -121.4779)
  line L166 (157.2726, -121.4779) -> (157.2978, -121.0776)
  line L167 (157.2978, -121.0776) -> (157.2226, -120.6837)
  line L168 (163.2009, -119.2776) -> (163.2009, -122.8776)
  line L169 (163.2009, -122.8776) -> (169.4009, -122.8776)
  line L170 (169.4009, -122.8776) -> (169.4009, -119.2776)
  line L171 (169.4009, -119.2776) -> (163.2009, -119.2776)
  line L172 (55.0009, -119.2776) -> (55.0009, -122.8776)
  line L173 (55.0009, -122.8776) -> (61.2009, -122.8776)
  line L174 (61.2009, -122.8776) -> (61.2009, -119.2776)
  line L175 (61.2009, -119.2776) -> (55.0009, -119.2776)
  point P0 (0, 0)
extrude "Extrusion1" add sketch "Sketch1" along normal blind 3
properties part number "EE-Rear" material "Polycarbonate, Green"
